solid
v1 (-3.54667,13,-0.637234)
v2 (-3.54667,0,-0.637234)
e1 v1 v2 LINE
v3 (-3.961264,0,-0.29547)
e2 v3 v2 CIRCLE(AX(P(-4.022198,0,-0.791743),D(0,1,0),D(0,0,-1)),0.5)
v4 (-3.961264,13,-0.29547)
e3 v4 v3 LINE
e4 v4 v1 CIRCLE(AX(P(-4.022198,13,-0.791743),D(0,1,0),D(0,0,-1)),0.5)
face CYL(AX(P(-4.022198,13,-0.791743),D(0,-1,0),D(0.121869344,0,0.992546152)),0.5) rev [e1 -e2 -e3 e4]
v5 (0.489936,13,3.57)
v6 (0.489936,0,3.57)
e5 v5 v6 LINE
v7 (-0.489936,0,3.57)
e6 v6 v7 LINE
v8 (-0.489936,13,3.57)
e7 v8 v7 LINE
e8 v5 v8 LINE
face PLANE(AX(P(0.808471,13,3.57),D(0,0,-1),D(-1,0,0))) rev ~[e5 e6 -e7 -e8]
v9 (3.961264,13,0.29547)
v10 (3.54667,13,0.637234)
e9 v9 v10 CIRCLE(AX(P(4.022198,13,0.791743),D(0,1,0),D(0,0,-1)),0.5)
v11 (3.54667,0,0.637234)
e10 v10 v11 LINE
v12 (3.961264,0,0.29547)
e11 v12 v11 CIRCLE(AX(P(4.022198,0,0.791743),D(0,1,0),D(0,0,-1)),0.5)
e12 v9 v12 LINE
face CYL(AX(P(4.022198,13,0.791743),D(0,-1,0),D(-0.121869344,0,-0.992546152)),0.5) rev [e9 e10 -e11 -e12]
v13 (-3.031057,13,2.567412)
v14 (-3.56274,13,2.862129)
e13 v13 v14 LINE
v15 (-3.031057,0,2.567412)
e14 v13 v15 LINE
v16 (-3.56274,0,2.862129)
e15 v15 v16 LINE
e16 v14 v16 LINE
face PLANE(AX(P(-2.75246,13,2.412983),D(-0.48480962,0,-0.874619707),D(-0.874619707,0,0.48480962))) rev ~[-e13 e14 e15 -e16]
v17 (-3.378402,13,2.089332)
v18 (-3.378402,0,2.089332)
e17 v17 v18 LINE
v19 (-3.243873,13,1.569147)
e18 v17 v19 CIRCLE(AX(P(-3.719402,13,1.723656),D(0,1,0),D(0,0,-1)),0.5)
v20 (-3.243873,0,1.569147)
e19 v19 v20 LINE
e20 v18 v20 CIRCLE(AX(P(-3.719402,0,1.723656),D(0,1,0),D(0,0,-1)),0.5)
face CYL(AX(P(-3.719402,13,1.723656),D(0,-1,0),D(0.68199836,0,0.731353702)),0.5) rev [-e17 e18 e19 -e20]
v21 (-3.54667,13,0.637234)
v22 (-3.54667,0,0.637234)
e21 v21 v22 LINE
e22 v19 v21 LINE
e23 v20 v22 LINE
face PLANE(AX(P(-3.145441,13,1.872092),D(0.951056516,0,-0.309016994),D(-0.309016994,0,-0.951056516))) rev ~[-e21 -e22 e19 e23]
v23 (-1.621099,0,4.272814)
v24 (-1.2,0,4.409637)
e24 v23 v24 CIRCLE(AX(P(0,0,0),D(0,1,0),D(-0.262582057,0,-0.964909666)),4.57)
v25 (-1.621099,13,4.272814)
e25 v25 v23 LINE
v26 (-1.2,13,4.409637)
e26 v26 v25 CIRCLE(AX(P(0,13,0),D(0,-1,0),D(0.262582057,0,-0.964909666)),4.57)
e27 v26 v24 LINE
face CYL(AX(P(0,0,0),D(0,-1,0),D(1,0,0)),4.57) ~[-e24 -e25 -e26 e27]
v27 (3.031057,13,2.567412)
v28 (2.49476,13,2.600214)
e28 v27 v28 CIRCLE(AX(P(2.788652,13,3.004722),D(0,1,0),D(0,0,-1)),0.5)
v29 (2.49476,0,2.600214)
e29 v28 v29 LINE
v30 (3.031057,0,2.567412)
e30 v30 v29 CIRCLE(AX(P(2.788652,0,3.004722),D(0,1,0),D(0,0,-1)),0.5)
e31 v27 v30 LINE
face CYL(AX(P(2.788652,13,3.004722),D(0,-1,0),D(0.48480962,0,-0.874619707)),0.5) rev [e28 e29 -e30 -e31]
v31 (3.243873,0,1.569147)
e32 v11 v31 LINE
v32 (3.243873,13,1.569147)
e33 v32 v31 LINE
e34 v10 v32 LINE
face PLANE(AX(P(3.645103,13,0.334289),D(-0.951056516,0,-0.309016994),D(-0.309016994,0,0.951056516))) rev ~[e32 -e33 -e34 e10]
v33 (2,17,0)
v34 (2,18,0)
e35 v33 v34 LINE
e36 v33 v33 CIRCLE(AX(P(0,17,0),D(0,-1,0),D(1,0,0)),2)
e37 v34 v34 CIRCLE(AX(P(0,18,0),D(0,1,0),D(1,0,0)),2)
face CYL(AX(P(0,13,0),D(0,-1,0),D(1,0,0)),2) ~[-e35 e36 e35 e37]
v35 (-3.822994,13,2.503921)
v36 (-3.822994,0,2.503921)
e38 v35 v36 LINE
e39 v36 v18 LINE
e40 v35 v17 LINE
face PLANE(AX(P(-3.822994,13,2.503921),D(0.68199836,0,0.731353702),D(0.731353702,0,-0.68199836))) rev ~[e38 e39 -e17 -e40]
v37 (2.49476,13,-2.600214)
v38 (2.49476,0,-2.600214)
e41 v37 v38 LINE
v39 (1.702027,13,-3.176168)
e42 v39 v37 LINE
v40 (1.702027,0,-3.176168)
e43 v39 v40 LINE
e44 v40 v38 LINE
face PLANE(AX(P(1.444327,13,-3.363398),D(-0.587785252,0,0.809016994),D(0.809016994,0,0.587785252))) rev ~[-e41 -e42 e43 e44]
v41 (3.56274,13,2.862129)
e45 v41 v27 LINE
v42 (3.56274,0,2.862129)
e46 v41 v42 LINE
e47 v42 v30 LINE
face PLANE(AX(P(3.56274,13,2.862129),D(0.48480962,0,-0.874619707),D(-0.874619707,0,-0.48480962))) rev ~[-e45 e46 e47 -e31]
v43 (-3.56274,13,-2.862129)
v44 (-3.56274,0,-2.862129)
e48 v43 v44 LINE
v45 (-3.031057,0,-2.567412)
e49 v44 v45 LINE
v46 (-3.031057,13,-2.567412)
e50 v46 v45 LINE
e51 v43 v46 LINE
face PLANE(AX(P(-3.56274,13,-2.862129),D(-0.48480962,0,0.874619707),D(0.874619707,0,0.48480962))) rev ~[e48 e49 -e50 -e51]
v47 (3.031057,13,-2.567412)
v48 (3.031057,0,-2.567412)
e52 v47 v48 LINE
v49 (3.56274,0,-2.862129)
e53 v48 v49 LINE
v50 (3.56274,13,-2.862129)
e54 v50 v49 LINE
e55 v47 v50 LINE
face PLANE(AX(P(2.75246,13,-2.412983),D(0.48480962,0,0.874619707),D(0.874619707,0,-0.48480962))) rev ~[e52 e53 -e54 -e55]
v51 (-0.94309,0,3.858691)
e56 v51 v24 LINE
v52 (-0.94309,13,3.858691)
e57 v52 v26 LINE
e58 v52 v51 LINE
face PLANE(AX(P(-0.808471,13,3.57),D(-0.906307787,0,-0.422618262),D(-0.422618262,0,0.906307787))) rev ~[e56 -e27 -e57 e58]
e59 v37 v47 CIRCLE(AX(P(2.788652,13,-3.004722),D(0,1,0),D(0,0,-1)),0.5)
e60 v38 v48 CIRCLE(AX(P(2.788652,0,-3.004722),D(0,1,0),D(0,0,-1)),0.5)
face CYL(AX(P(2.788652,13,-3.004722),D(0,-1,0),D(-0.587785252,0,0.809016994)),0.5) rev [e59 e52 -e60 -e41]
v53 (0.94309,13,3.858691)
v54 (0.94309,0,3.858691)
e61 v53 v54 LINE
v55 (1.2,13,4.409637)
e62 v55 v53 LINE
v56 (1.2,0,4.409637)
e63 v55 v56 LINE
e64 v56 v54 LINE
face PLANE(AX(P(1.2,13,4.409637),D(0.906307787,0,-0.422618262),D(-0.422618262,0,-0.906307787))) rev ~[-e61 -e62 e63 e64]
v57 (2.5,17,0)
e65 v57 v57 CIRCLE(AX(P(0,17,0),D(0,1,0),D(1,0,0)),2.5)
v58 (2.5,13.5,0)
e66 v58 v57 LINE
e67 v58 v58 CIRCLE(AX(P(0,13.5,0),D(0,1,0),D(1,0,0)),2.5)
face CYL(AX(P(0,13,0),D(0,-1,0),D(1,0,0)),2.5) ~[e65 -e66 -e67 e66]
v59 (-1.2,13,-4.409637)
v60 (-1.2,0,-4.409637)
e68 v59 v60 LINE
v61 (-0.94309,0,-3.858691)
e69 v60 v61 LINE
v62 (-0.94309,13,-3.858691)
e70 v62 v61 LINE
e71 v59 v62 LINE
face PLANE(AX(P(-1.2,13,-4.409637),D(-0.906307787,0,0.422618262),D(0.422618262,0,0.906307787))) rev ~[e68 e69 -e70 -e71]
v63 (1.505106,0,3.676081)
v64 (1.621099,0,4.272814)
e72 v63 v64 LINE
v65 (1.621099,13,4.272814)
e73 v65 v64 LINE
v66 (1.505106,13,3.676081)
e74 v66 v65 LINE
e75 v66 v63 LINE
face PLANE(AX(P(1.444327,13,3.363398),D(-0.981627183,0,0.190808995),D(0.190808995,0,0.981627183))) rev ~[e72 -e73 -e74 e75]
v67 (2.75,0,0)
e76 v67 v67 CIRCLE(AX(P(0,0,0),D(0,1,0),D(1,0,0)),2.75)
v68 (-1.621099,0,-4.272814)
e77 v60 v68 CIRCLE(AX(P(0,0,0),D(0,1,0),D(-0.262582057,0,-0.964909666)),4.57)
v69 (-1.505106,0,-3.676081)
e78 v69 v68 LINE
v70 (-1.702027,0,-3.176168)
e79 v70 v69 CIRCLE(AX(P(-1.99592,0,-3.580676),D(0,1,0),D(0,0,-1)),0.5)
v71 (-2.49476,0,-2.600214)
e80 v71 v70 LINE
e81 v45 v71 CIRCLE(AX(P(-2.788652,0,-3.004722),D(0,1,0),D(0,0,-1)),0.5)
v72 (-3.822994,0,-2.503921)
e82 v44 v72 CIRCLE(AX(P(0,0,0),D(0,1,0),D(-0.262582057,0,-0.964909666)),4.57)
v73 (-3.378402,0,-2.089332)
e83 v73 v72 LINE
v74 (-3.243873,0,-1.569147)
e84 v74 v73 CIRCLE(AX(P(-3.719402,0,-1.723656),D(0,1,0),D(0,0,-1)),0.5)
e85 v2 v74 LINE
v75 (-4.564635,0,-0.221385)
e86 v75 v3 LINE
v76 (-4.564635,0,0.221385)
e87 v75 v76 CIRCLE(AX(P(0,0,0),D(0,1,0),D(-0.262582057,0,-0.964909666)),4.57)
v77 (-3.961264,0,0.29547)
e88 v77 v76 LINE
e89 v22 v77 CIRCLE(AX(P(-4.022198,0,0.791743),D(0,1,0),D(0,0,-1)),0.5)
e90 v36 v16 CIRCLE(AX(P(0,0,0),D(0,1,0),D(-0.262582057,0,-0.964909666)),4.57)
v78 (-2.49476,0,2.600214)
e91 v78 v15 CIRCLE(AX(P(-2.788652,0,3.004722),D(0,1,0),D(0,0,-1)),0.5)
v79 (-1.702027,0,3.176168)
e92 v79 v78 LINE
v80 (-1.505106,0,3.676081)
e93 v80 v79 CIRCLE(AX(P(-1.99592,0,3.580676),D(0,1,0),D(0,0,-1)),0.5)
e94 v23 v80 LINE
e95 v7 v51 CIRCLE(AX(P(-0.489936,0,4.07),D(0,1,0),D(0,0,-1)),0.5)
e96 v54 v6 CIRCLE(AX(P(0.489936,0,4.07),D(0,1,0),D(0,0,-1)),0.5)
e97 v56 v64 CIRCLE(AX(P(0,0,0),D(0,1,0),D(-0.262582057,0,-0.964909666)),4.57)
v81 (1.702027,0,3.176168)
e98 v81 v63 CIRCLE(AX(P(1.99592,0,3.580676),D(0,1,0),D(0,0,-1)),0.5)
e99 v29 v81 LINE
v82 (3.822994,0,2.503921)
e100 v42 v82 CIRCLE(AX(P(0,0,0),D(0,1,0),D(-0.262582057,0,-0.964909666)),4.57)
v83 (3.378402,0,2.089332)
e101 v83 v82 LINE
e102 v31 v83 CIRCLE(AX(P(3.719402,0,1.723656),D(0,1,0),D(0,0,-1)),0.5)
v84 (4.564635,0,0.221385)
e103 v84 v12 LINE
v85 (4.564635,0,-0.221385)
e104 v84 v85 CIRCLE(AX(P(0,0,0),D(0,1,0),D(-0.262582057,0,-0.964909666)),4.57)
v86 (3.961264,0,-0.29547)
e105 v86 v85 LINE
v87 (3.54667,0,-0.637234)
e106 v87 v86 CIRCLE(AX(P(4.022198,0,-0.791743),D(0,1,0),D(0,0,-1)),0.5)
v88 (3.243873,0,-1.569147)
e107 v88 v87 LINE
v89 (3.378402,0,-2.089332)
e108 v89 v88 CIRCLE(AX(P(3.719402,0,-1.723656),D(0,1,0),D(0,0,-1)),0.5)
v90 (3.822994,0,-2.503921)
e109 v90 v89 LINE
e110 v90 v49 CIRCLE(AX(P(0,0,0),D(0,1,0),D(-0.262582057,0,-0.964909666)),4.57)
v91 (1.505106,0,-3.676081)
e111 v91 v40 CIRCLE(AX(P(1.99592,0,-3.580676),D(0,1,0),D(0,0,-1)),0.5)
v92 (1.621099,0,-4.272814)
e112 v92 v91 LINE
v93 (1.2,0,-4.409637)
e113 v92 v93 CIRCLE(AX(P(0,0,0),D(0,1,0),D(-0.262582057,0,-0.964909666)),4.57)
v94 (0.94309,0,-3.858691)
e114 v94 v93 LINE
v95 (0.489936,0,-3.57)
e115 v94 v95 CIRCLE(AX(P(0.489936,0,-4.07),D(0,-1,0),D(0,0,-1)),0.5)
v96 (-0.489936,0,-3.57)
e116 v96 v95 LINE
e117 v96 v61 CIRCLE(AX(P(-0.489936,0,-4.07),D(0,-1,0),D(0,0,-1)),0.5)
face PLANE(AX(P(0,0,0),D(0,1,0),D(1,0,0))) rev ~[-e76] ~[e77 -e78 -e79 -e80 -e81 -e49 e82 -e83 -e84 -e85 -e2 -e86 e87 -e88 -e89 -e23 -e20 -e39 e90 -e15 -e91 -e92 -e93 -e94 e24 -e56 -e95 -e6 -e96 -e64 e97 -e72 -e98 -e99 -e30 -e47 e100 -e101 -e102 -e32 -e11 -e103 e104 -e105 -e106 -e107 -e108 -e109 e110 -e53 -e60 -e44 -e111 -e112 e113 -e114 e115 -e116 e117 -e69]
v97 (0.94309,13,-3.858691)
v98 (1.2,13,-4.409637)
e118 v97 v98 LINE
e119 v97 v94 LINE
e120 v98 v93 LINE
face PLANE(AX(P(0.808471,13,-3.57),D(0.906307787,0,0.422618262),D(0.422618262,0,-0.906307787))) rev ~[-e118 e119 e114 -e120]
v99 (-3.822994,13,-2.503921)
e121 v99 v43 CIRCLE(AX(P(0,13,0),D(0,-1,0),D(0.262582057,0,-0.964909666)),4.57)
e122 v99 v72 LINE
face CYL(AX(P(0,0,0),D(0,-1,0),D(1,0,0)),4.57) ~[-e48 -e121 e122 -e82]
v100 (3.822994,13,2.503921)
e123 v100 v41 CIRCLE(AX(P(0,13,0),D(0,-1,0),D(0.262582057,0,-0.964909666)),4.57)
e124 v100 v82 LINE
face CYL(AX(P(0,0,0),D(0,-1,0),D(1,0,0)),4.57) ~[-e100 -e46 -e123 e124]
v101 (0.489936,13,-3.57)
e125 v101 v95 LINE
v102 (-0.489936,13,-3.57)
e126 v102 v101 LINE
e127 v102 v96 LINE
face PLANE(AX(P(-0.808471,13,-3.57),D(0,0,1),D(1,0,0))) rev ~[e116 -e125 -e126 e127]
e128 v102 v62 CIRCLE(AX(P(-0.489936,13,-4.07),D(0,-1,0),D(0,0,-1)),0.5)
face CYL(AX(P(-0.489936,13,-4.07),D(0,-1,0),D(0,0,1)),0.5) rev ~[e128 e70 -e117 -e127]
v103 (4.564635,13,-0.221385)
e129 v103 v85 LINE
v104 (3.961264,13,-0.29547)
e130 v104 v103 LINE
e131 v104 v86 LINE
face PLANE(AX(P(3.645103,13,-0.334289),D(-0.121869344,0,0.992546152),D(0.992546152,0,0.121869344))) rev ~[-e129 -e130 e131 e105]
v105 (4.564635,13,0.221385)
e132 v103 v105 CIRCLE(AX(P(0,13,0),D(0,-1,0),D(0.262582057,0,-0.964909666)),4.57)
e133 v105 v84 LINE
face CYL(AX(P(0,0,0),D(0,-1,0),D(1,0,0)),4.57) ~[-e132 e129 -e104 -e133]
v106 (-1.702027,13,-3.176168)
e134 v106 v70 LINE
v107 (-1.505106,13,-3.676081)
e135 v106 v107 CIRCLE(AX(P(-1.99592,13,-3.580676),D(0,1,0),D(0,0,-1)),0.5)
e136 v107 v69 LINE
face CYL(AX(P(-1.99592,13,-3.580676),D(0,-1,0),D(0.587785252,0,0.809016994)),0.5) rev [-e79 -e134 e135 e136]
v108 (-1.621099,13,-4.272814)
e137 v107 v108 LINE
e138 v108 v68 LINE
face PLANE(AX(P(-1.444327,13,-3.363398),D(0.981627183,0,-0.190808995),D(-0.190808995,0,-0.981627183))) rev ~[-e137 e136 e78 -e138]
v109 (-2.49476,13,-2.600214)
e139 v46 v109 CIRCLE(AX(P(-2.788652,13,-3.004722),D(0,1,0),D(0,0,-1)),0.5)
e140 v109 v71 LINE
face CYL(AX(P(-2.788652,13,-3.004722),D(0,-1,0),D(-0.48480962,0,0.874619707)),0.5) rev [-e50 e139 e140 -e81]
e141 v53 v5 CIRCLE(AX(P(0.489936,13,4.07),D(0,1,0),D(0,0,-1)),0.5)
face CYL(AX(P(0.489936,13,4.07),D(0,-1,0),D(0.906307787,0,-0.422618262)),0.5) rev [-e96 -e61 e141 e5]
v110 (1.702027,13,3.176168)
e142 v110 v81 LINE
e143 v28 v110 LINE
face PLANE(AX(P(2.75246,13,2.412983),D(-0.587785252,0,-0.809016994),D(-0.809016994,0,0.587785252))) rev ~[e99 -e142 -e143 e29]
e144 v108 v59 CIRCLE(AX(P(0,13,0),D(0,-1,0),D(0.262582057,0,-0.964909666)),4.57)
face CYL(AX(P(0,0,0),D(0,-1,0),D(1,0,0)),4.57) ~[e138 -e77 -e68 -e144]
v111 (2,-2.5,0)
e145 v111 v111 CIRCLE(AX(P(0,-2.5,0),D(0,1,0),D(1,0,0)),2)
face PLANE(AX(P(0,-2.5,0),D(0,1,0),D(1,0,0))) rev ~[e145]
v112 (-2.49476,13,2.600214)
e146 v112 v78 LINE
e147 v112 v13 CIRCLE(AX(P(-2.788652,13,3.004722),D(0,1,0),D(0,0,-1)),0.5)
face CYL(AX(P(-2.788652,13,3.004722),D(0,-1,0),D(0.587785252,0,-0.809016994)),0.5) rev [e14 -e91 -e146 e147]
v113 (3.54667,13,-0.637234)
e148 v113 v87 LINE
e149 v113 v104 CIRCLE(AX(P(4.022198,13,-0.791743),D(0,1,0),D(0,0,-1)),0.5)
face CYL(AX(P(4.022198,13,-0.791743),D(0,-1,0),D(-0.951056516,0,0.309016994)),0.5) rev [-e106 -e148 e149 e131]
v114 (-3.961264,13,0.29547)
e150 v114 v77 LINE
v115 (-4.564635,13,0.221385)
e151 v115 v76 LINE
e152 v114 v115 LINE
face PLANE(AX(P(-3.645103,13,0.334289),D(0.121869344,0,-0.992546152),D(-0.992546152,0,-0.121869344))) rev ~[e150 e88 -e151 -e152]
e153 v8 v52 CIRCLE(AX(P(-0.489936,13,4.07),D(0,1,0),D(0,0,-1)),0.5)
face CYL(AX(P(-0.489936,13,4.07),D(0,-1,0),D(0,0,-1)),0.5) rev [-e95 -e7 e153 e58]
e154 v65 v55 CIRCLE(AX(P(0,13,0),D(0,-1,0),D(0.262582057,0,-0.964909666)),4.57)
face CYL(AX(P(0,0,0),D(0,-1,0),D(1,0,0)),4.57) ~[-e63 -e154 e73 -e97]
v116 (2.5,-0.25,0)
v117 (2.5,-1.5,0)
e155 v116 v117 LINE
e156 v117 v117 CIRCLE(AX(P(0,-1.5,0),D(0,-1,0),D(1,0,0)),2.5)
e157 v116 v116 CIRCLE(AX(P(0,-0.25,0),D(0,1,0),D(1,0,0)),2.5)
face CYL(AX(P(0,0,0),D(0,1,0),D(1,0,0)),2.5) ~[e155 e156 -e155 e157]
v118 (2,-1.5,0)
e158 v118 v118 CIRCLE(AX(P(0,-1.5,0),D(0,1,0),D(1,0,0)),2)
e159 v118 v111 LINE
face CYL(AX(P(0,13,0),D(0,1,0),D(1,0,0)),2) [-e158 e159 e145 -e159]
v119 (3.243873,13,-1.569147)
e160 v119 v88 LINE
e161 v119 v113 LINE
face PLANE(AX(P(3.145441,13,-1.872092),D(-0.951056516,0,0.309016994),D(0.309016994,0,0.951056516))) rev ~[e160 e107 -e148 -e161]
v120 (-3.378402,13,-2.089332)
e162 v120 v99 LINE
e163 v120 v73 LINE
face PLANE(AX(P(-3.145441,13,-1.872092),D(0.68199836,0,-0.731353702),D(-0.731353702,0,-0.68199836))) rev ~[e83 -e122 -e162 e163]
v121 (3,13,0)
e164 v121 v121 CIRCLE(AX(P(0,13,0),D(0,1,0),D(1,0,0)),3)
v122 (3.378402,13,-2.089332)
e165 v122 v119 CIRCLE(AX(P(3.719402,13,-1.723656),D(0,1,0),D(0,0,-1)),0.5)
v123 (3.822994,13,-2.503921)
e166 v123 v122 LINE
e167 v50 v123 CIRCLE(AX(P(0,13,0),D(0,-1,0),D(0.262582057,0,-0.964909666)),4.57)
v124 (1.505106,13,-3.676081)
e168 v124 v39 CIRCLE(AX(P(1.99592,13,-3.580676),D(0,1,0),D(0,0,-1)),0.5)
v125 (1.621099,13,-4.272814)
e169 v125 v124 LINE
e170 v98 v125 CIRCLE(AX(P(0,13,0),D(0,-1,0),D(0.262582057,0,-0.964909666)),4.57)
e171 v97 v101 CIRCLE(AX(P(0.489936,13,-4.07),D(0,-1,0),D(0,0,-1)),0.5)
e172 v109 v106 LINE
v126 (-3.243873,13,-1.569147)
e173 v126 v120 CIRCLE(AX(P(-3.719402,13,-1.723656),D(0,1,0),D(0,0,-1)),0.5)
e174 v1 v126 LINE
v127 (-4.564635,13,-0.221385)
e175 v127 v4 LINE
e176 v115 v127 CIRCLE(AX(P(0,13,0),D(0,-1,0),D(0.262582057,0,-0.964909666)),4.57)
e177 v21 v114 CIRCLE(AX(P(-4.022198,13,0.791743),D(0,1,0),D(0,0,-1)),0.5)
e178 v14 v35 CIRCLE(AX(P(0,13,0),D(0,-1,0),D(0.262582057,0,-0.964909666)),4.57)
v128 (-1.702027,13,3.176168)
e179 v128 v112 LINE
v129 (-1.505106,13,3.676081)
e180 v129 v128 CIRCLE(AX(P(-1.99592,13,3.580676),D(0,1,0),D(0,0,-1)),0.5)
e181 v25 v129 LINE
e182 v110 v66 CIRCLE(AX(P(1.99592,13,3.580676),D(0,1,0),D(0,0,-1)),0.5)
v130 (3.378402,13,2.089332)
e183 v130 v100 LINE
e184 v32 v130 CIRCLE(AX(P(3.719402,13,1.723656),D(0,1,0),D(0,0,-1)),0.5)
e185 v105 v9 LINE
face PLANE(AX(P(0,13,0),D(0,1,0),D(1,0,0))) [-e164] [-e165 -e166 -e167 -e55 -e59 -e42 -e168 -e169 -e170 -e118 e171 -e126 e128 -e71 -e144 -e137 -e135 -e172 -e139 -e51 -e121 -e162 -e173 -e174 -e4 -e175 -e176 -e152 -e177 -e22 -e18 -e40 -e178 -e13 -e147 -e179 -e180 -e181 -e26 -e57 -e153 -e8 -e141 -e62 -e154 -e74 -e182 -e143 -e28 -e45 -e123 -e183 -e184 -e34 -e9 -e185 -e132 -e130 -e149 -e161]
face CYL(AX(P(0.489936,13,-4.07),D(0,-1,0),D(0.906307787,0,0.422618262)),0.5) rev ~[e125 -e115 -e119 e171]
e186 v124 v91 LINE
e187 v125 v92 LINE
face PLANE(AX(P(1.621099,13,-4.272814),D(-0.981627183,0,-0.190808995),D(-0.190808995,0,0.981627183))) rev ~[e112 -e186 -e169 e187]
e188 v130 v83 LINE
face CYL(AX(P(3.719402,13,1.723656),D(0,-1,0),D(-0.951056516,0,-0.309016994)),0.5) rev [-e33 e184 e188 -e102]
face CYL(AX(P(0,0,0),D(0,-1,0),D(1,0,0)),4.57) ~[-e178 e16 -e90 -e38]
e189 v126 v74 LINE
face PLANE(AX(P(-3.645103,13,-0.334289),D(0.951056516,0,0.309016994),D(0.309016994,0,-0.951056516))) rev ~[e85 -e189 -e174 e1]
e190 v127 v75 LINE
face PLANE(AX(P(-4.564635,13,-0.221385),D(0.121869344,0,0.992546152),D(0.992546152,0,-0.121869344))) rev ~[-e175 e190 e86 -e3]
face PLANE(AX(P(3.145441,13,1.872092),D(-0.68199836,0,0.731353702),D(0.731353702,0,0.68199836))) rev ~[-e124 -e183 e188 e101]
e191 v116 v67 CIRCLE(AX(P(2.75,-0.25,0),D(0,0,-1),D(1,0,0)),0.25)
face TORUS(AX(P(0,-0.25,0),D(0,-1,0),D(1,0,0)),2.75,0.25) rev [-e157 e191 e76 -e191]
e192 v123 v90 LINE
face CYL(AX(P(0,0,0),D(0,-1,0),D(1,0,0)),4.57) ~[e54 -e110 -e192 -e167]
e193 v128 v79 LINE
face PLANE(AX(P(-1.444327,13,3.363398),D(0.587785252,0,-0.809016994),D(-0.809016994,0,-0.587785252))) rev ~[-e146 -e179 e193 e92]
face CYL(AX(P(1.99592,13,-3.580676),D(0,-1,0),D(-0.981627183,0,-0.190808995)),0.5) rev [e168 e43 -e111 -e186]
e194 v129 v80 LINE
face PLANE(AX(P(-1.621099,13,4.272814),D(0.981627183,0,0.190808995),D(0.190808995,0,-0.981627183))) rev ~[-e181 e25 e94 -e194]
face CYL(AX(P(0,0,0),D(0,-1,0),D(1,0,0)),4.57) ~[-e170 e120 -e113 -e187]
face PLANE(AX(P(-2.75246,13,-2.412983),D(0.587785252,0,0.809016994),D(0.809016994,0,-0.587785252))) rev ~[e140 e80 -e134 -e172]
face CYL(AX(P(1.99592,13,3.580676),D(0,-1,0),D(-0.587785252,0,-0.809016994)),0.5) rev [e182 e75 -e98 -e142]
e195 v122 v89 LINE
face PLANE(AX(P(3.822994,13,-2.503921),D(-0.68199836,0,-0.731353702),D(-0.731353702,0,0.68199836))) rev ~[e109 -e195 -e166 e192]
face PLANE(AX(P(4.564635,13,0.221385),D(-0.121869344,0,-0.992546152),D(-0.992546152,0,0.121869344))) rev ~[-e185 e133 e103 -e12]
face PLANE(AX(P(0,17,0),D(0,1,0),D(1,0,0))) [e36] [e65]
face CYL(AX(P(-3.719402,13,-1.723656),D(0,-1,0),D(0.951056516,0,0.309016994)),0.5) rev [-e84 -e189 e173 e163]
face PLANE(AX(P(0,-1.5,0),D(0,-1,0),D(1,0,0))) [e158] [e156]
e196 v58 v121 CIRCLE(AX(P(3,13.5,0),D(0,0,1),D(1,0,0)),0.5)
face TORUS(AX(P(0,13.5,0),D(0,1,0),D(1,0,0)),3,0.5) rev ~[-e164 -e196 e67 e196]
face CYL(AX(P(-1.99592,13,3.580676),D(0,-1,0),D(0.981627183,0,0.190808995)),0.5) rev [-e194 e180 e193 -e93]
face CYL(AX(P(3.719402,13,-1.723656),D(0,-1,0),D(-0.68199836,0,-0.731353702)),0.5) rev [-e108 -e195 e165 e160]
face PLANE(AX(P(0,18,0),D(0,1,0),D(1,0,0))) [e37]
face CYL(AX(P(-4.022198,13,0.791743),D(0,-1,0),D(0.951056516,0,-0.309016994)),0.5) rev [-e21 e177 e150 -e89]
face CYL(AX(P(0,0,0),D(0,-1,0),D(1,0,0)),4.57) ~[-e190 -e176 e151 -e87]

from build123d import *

# Parameters (mm, degrees)
SKIZZE1_R                       = 4.57
SKIZZE1_R_2                     = 2
AUFSATZ_LINEAR_AUSTRAGEN1_DEPTH = 13
SCHNITT_LINEAR_AUSTRAGEN1_DEPTH = 14
VERRUNDUNG1_R                   = 0.5
KREISMUSTER1_COUNT              = 10
VERRUNDUNG1_OF_KREISMUSTER1_R   = 0.5
FASE2_SIZE                      = 0.2
BOSS_EXTRUDE1_DEPTH             = 6.3
BOSS_EXTRUDE1_DEPTH_BACK        = 6.3
SKETCH2_R                       = 2.2
BOSS_EXTRUDE4_DEPTH             = 13
SKETCH3_R                       = 2
BOSS_EXTRUDE6_DEPTH             = 5
BOSS_EXTRUDE6_DEPTH_BACK        = 15.5
FILLET2_R                       = 0.5
SKETCH4_R                       = 2.5
SKETCH4_R_2                     = 1.5
BOSS_EXTRUDE7_DEPTH             = 1.5
FILLET3_R                       = 0.25
SKETCH5_R                       = 2.5
SKETCH5_R_2                     = 1.5
BOSS_EXTRUDE8_DEPTH             = 4
FILLET4_R                       = 0.5


with BuildPart() as part:
    # Skizze1 → Aufsatz-Linear austragen1 (new body)
    with BuildSketch(Plane(origin=(0, 0, 0), x_dir=(1, 0, 0), z_dir=(0, 1, 0))):
        Circle(SKIZZE1_R)
        Circle(SKIZZE1_R_2, mode=Mode.SUBTRACT)
    extrude(amount=AUFSATZ_LINEAR_AUSTRAGEN1_DEPTH)

    # Skizze12 → Schnitt-Linear austragen1 (cut, through all)
    with BuildSketch(Plane(origin=(0, 13, 0), x_dir=(1, 0, 0), z_dir=(0, 1, 0))):
        with BuildLine():
            Line((-1.2, 4.409637173), (-0.808470756, 3.57))
            Line((-0.808470756, 3.57), (0.808470756, 3.57))
            Line((0.808470756, 3.57), (1.2, 4.409637173))
            ThreePointArc((1.2, 4.409637173), (0, 4.57), (-1.2, 4.409637173))
        make_face()
    schnitt_linear_austragen1 = extrude(amount=-SCHNITT_LINEAR_AUSTRAGEN1_DEPTH, mode=Mode.SUBTRACT)

    # Verrundung1
    verrundung1_edges = [part.edges().sort_by_distance(p)[0] for p in [
        (0.808470756, 6.5, -3.57),
        (-0.808470756, 6.5, -3.57),
    ]]
    fillet(verrundung1_edges, radius=VERRUNDUNG1_R)

    # Kreismuster1: Schnitt-Linear austragen1 ×10 about axis
    kreismuster1_axis = Axis((0, 0, 0), (0, 1, 0))
    for i in range(1, KREISMUSTER1_COUNT):
        add(schnitt_linear_austragen1.rotate(kreismuster1_axis, i * 360 / KREISMUSTER1_COUNT), mode=Mode.SUBTRACT)

    # Verrundung1 of Kreismuster1
    verrundung1_of_kreismuster1_edges = [part.edges().sort_by_distance(p)[0] for p in [
        (-1.44432677, 6.5, -3.363397857),
        (-2.752459932, 6.5, -2.412983483),
        (-3.14544056, 6.5, -1.872092051),
        (-3.645102966, 6.5, -0.334289289),
        (-3.645102966, 6.5, 0.334289289),
        (-3.14544056, 6.5, 1.872092051),
        (-2.752459932, 6.5, 2.412983483),
        (-1.44432677, 6.5, 3.363397857),
        (-0.808470756, 6.5, 3.57),
        (0.808470756, 6.5, 3.57),
        (1.44432677, 6.5, 3.363397857),
        (2.752459932, 6.5, 2.412983483),
        (3.14544056, 6.5, 1.872092051),
        (3.645102966, 6.5, 0.334289289),
        (3.645102966, 6.5, -0.334289289),
        (3.14544056, 6.5, -1.872092051),
        (2.752459932, 6.5, -2.412983483),
        (1.44432677, 6.5, -3.363397857),
    ]]
    fillet(verrundung1_of_kreismuster1_edges, radius=VERRUNDUNG1_OF_KREISMUSTER1_R)

    # Fase2
    fase2_edges = [part.edges().sort_by_distance(p)[0] for p in [
        (-2, 0, 0),
        (-2, 13, 0),
    ]]
    chamfer(fase2_edges, length=FASE2_SIZE)

    # Sketch1 → Boss-Extrude1 (add, two sides)
    with BuildSketch(Plane(origin=(0, 6.5, 0), x_dir=(-1, 0, 0), z_dir=(0, -1, 0))) as boss_extrude1_sk:
        with BuildLine():
            Line((-1.4, 1.428285686), (-1.4, -1.428285686))
            ThreePointArc((-1.4, -1.428285686), (-2, 0), (-1.4, 1.428285686))
        make_face()
    extrude(amount=BOSS_EXTRUDE1_DEPTH)
    extrude(boss_extrude1_sk.sketch, amount=-BOSS_EXTRUDE1_DEPTH_BACK)



with BuildPart() as body_2:
    # Sketch2 → Boss-Extrude4 (new body)
    with BuildSketch(Plane(origin=(0, 13, 0), x_dir=(1, 0, 0), z_dir=(0, 1, 0))):
        Circle(SKETCH2_R)
    extrude(amount=-BOSS_EXTRUDE4_DEPTH)


with BuildPart() as part_1:
    add(part.part)

    add(body_2.part)  # Boss-Extrude6 merges body 2
    # Sketch3 → Boss-Extrude6 (add, two sides)
    with BuildSketch(Plane(origin=(0, 13, 0), x_dir=(1, 0, 0), z_dir=(0, 1, 0))) as boss_extrude6_sk:
        Circle(SKETCH3_R)
    extrude(amount=BOSS_EXTRUDE6_DEPTH)
    extrude(boss_extrude6_sk.sketch, amount=-BOSS_EXTRUDE6_DEPTH_BACK)

    # Fillet2
    fillet2_edges = [part_1.edges().sort_by_distance(p)[0] for p in [
        (-2, 13, 0),
        (-2, 0, 0),
    ]]
    fillet(fillet2_edges, radius=FILLET2_R)

    # Sketch4 → Boss-Extrude7 (add)
    with BuildSketch(Plane.XZ):
        Circle(SKETCH4_R)
        Circle(SKETCH4_R_2, mode=Mode.SUBTRACT)
    extrude(amount=BOSS_EXTRUDE7_DEPTH)

    # Fillet3
    fillet3_edges = [part_1.edges().sort_by_distance(p)[0] for p in [
        (-2.5, 0, 0),
    ]]
    fillet(fillet3_edges, radius=FILLET3_R)

    # Sketch5 → Boss-Extrude8 (add)
    with BuildSketch(Plane(origin=(0, 13, 0), x_dir=(1, 0, 0), z_dir=(0, 1, 0))):
        Circle(SKETCH5_R)
        Circle(SKETCH5_R_2, mode=Mode.SUBTRACT)
    extrude(amount=BOSS_EXTRUDE8_DEPTH)

    # Fillet4
    fillet4_edges = [part_1.edges().sort_by_distance(p)[0] for p in [
        (-2.5, 13, 0),
    ]]
    fillet(fillet4_edges, radius=FILLET4_R)


solid = part_1.part
